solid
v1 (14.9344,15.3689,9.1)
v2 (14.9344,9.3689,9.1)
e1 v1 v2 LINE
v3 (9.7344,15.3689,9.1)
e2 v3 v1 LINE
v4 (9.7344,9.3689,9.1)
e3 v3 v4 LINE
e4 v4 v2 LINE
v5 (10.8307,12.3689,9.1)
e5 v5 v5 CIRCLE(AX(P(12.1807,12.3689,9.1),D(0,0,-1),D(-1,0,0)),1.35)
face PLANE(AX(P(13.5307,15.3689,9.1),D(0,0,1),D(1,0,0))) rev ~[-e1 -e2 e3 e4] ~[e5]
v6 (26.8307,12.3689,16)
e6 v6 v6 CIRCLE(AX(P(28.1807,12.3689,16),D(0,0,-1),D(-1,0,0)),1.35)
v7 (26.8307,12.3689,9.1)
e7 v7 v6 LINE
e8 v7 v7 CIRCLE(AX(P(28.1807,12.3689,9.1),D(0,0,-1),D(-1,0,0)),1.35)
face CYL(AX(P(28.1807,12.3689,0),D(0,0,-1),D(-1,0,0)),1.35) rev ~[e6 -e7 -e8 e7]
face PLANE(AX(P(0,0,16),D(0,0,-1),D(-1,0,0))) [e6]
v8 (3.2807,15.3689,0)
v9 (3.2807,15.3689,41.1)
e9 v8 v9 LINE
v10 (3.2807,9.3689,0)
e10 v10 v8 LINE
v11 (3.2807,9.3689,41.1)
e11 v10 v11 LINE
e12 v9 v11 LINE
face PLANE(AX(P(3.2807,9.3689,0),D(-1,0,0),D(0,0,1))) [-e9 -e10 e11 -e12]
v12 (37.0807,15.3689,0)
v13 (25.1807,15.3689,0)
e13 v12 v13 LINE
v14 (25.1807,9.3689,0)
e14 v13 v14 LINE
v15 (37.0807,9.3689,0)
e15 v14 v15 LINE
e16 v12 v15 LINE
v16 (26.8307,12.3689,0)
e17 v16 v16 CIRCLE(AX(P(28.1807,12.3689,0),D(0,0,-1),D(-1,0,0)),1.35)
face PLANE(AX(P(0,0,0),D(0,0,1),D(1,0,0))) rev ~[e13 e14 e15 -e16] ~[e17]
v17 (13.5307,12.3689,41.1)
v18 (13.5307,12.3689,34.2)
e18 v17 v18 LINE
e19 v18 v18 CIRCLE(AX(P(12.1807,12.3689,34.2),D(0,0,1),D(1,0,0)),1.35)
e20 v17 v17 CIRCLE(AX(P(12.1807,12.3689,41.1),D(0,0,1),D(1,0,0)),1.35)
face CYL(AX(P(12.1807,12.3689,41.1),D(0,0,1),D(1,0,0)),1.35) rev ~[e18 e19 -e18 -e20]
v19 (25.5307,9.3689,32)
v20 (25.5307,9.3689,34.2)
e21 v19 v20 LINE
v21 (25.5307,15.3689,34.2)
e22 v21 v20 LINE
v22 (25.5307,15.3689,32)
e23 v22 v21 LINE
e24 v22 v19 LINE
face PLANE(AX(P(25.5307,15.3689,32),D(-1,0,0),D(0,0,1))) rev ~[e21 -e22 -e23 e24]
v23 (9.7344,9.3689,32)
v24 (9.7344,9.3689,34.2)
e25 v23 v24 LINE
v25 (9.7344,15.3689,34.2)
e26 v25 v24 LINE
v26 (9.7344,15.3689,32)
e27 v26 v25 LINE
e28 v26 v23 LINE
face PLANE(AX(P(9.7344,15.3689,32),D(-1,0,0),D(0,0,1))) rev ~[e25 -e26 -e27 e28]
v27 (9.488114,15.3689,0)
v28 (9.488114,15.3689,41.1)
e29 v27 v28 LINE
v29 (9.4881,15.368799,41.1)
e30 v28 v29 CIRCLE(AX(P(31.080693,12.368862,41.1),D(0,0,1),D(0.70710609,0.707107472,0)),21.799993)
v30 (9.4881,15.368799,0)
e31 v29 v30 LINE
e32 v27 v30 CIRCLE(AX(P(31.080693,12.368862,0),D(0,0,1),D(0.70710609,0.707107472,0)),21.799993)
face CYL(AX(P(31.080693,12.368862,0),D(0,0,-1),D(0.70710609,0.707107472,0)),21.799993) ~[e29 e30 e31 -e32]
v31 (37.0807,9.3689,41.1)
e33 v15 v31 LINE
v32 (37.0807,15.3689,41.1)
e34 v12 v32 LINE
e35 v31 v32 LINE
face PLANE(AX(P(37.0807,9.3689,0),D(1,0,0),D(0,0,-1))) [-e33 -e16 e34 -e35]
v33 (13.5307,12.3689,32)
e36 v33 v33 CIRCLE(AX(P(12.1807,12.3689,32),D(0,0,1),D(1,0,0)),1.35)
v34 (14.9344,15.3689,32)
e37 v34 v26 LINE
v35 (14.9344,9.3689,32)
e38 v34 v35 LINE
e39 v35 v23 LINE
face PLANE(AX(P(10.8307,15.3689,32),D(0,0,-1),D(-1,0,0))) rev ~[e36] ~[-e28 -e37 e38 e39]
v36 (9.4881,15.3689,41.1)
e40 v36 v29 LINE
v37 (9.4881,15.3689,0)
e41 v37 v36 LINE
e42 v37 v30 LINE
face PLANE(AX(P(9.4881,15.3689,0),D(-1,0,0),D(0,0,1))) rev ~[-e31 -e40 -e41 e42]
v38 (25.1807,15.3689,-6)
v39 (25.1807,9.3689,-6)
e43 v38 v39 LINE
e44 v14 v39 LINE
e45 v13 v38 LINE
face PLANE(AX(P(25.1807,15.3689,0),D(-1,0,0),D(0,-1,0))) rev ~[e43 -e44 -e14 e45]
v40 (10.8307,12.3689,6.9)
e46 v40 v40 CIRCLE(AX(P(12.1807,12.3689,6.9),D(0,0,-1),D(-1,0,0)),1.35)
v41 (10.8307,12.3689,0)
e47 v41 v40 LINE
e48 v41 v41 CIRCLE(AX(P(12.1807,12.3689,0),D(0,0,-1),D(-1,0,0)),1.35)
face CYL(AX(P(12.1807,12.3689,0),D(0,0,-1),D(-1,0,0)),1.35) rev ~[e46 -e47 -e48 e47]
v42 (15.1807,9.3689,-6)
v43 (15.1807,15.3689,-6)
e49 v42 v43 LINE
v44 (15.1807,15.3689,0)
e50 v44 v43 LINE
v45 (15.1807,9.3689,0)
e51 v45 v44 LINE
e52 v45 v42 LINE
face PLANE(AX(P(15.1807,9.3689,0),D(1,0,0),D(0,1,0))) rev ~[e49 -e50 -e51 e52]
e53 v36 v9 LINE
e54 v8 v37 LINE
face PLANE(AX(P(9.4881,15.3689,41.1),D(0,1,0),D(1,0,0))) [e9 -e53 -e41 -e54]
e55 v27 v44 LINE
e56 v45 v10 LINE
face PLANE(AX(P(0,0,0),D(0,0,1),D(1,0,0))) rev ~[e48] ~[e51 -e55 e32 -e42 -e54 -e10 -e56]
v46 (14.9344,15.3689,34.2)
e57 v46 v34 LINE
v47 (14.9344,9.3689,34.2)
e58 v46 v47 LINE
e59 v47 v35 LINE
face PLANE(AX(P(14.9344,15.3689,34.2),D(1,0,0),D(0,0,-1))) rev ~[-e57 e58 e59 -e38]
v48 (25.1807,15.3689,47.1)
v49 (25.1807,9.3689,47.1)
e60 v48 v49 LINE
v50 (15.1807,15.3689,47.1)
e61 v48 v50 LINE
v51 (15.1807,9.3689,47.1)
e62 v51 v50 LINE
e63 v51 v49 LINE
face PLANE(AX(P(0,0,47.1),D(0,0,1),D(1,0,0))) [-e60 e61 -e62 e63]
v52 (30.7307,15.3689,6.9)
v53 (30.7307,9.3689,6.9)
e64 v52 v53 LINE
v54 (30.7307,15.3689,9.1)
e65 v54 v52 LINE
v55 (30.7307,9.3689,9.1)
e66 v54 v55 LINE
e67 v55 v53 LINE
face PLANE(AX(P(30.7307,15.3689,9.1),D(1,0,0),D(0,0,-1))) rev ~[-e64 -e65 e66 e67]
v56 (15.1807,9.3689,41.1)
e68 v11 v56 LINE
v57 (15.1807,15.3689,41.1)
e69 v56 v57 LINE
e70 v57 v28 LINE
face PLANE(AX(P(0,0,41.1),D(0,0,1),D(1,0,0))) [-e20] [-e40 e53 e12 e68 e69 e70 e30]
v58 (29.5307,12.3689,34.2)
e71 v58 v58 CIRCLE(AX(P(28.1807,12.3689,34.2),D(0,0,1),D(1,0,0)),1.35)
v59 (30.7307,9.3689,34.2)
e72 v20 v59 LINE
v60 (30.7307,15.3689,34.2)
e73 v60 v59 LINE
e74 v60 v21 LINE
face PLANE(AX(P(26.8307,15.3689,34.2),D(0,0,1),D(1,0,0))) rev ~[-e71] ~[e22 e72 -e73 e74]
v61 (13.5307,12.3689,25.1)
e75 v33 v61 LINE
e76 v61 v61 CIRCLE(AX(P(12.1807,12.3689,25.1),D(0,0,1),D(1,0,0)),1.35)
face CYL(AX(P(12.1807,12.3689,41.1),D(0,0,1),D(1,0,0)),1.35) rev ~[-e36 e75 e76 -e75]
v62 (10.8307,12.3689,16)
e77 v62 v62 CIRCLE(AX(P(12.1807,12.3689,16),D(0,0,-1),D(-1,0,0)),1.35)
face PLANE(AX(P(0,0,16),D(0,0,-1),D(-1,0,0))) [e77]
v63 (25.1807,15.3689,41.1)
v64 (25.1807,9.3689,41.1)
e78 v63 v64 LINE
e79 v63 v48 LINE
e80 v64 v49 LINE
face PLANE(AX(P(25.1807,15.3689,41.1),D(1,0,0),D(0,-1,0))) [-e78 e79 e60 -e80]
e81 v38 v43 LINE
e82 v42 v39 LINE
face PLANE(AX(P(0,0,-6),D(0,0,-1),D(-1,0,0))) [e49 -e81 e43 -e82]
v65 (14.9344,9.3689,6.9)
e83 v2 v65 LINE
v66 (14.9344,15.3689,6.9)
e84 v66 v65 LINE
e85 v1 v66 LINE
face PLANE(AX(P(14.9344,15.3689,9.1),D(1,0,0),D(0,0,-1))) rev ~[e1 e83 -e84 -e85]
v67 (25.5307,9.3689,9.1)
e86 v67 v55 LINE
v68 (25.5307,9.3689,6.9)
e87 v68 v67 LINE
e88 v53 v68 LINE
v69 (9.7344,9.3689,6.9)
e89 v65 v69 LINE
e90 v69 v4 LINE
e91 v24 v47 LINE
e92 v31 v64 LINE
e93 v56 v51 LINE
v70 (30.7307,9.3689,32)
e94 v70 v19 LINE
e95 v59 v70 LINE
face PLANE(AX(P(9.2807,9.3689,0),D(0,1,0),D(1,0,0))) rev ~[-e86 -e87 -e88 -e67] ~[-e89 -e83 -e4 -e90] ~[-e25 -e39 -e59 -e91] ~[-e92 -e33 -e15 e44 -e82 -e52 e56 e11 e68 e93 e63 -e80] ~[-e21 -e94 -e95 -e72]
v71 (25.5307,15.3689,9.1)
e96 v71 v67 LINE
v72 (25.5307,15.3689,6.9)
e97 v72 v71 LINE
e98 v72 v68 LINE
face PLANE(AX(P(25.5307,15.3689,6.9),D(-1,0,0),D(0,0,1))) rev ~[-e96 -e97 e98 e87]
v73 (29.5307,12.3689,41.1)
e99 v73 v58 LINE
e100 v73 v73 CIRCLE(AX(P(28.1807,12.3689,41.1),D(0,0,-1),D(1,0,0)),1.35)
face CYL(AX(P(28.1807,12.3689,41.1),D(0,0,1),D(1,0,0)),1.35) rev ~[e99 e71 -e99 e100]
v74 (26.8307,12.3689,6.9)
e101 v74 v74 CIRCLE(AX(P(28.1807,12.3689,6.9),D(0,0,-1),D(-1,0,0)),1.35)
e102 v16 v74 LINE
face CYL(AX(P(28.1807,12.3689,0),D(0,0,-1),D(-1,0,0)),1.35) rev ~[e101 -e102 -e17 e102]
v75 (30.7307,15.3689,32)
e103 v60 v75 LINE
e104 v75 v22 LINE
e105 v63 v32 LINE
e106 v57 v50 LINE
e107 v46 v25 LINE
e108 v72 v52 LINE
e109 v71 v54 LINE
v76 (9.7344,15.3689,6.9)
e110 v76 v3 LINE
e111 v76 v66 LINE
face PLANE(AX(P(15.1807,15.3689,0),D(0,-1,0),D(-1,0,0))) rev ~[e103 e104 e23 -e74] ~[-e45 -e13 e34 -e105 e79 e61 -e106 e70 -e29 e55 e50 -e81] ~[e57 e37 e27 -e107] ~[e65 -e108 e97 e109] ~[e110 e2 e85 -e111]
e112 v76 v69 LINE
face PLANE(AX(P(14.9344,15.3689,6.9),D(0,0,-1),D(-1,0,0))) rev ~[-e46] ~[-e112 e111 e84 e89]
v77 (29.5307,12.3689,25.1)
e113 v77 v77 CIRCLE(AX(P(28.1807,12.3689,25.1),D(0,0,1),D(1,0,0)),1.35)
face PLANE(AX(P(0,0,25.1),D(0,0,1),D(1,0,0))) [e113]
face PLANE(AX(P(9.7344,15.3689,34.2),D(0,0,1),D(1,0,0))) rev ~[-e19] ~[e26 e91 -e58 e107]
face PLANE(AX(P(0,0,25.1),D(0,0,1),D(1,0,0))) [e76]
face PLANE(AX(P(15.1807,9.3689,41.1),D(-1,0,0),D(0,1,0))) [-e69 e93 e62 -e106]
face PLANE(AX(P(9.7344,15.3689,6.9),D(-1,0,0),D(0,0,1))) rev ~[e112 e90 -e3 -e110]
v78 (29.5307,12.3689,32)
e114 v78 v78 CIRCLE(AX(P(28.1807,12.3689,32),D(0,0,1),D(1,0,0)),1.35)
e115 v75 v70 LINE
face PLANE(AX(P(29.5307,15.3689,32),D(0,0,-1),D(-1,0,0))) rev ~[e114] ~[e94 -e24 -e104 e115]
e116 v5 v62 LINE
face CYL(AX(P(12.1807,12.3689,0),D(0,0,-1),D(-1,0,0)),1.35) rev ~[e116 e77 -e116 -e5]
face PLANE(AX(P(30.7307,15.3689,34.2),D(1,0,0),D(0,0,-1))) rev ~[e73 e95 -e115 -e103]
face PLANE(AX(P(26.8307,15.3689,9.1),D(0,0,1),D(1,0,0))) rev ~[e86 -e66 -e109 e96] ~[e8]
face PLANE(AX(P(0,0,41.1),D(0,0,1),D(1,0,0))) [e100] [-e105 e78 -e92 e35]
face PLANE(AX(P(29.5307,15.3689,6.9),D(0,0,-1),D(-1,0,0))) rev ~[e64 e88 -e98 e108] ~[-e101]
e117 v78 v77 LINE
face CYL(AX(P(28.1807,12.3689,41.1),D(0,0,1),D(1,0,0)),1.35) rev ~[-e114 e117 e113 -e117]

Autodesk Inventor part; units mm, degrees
ref_plane "YZ Plane" through (0, 0, 0) normal (1, 0, 0) x (0, 1, 0)
ref_plane "XZ Plane" through (0, 0, 0) normal (0, 1, 0) x (-1, 0, 0)
ref_plane "XY Plane" through (0, 0, 0) normal (0, 0, 1) x (1, 0, 0)
sketch "스케치8" plane through (0, 0, 0) normal (0, 0, 1) x (1, 0, 0)
  circle A0 centre (12.1807, -22.6311) radius 1.2
  arc A1 (9.2807, -22.6311) -> (14.3807, -22.6311) centre (11.8307, -22.1236) ccw
  circle A2 centre (14.5238, -16.9742) radius 1.2
  circle A3 centre (20.1807, -14.6311) radius 1.2
  circle A4 centre (25.8375, -16.9742) radius 1.2
  circle A5 centre (28.1807, -22.6311) radius 1.2
  arc A6 (25.9807, -22.6311) -> (31.0807, -22.6311) centre (28.5307, -22.1236) ccw
  line L0 (9.2807, -22.6311) -> (31.0807, -22.6311)
  line L1 (9.2807, -2.6311) -> (9.2807, -22.6311)
  line L2 (31.0807, -22.6311) -> (31.0807, -2.6311)
  circle A7 centre (20.1807, -22.6311) radius 5.8
  line L3 (9.2807, -2.6311) -> (39.0379, -2.6311) construction
  line L4 (31.0807, -2.6311) -> (31.0807, 12.3689)
  line L5 (31.0807, 12.3689) -> (9.2807, 12.3689)
  line L6 (9.2807, 12.3689) -> (9.2807, -2.6311)
  line L7 (9.2807, 12.3689) -> (9.2807, 12.3689)
  line L8 (31.0807, 12.3689) -> (31.0807, 12.3689)
  line L9 (31.0807, 12.3689) -> (46.4956, 27.7838)
  arc A8 (46.4956, 27.7838) -> (9.2807, 12.3689) centre (31.0807, 12.3689) ccw
  arc A9 (15.2617, -2.6311) -> (15.6657, -3.046) centre (31.0807, 12.3689) ccw
  line L10 (15.1807, 15.3689) -> (25.1807, 15.3689)
  line L11 (25.1807, 15.3689) -> (25.1807, 9.3689)
  line L12 (25.1807, 9.3689) -> (15.1807, 9.3689)
  line L13 (15.1807, 9.3689) -> (15.1807, 15.3689)
  line L14 (15.1807, 15.3689) -> (25.1807, 9.3689) construction
  line L15 (25.1807, 15.3689) -> (15.1807, 9.3689) construction
  circle A10 centre (12.1807, 12.3689) radius 1.35
  circle A11 centre (28.1807, 12.3689) radius 1.35
  line L16 (9.2807, -2.6311) -> (31.0807, -2.6311)
  circle A12 centre (9.2807, 12.3689) radius 21.8
  line L17 (9.2807, 4.8689) -> (31.0807, 4.8689)
  line L18 (31.0807, 4.8689) -> (31.0807, 19.8689)
  line L19 (31.0807, 19.8689) -> (9.2807, 19.8689)
  line L20 (9.2807, 19.8689) -> (9.2807, 4.8689)
  line L21 (9.2807, 4.8689) -> (31.0807, 19.8689) construction
  line L22 (31.0807, 4.8689) -> (9.2807, 19.8689) construction
  line L23 (31.0807, 15.3689) -> (9.2807, 15.3689)
  line L24 (9.2807, 15.3689) -> (9.2807, 9.3689)
  line L25 (9.2807, 9.3689) -> (31.0807, 9.3689)
  line L26 (31.0807, 9.3689) -> (31.0807, 15.3689)
  line L27 (31.0807, 15.3689) -> (9.2807, 9.3689) construction
  line L28 (9.2807, 15.3689) -> (31.0807, 9.3689) construction
  point P0 (0, 0)
  point P1 (-60.3663, -40.6069)
  point P2 (20.1807, -22.6311)
  point P3 (20.1807, -22.6311)
  point P4 (14.3807, -22.6311)
  point P5 (14.3807, -22.6311)
  point P6 (9.2807, 17.3689)
  point P7 (25.0996, -2.6311)
  point P8 (9.2807, -9.4311)
  point P9 (20.1807, 12.3689)
  point P10 (29.7499, 19.8689)
  point P11 (10.6114, 19.8689)
  point P12 (30.8733, 15.3689)
  point P13 (9.4881, 15.3689)
  dimension "d31" = 2.6
  dimension "d32" = 2.6
  dimension "d33" = 20
  dimension "d34" = 15
  dimension "d35" = 0
  dimension "d36" = 0
  dimension "d38" = 135
  dimension "d39" = 10
  dimension "d40" = 6
  dimension "d44" = 2.7
  dimension "d45" = 2.7
  dimension "d48" = 15
extrude "돌출8" add sketch "스케치8" along normal blind 41.1 contours L6 L5 A10 L13 L25 | A12 L25 L11 L5 A11 | L5 A11 L11 L23 A12 | L4 L25 A12 | L23 L13 L5 A10 A8 | L13 L5 L11 L12 | A11 L5 | L5 A11 | L10 L11 L5 L13 | A10 L5 | L5 A10
sketch "스케치9" plane through (0, 0, 41.1) normal (0, 0, 1) x (1, 0, 0)
  line L0 (30.8733, 15.3689) -> (9.4881, 15.3689) projected
  line L1 (30.8733, 15.3689) -> (9.4881, 15.3689) projected
  arc A0 (9.4881, 15.3689) -> (9.2807, 12.3689) centre (31.0807, 12.3689) ccw projected
  arc A1 (9.4881, 15.3689) -> (9.2807, 12.3689) centre (31.0807, 12.3689) ccw projected
  line L2 (9.2807, 12.3689) -> (9.2807, 9.3689) projected
  line L3 (9.2807, 12.3689) -> (9.2807, 9.3689) projected
  line L4 (9.2807, 9.3689) -> (31.0807, 9.3689) projected
  line L5 (9.2807, 9.3689) -> (31.0807, 9.3689) projected
  line L6 (31.0807, 9.3689) -> (31.0807, 12.3689) projected
  line L7 (31.0807, 9.3689) -> (31.0807, 12.3689) projected
  arc A2 (31.0807, 12.3689) -> (30.8733, 15.3689) centre (9.2807, 12.3689) ccw projected
  arc A3 (31.0807, 12.3689) -> (30.8733, 15.3689) centre (9.2807, 12.3689) ccw projected
  line L8 (30.8733, 15.3689) -> (9.4881, 15.3689) projected
  arc A4 (31.0807, 12.3689) -> (30.8733, 15.3689) centre (9.2807, 12.3689) ccw projected
  line L9 (31.0807, 9.3689) -> (31.0807, 12.3689) projected
  line L10 (9.2807, 9.3689) -> (31.0807, 9.3689) projected
  line L11 (9.2807, 12.3689) -> (9.2807, 9.3689) projected
  arc A5 (9.4881, 15.3689) -> (9.2807, 12.3689) centre (31.0807, 12.3689) ccw projected
  line L12 (30.8733, 15.3689) -> (9.4881, 15.3689) projected
  arc A6 (9.4881, 15.3689) -> (9.2807, 12.3689) centre (31.0807, 12.3689) ccw projected
  line L13 (9.2807, 12.3689) -> (9.2807, 9.3689) projected
  line L14 (9.2807, 9.3689) -> (31.0807, 9.3689) projected
  line L15 (31.0807, 9.3689) -> (31.0807, 12.3689) projected
  arc A7 (31.0807, 12.3689) -> (30.8733, 15.3689) centre (9.2807, 12.3689) ccw projected
  line L16 (30.8733, 15.3689) -> (9.4881, 15.3689) projected
  line L17 (30.8733, 15.3689) -> (9.4881, 15.3689) projected
  arc A8 (9.4881, 15.3689) -> (9.2807, 12.3689) centre (31.0807, 12.3689) ccw projected
  arc A9 (9.4881, 15.3689) -> (9.2807, 12.3689) centre (31.0807, 12.3689) ccw projected
  line L18 (9.2807, 12.3689) -> (9.2807, 9.3689) projected
  line L19 (9.2807, 12.3689) -> (9.2807, 9.3689) projected
  line L20 (9.2807, 9.3689) -> (31.0807, 9.3689) projected
  line L21 (9.2807, 9.3689) -> (31.0807, 9.3689) projected
  line L22 (31.0807, 9.3689) -> (31.0807, 12.3689) projected
  line L23 (31.0807, 9.3689) -> (31.0807, 12.3689) projected
  arc A10 (31.0807, 12.3689) -> (30.8733, 15.3689) centre (9.2807, 12.3689) ccw projected
  arc A11 (31.0807, 12.3689) -> (30.8733, 15.3689) centre (9.2807, 12.3689) ccw projected
  circle A12 centre (36.2473, 1.0351) radius 1.2
  arc A13 (33.3473, 1.0351) -> (38.4473, 1.0351) centre (35.8973, 1.5425) ccw
  circle A14 centre (38.5905, 6.6919) radius 1.2
  circle A15 centre (44.2473, 9.0351) radius 1.2
  circle A16 centre (49.9042, 6.6919) radius 1.2
  circle A17 centre (52.2473, 1.0351) radius 1.2
  arc A18 (50.0473, 1.0351) -> (55.1473, 1.0351) centre (52.5973, 1.5425) ccw
  line L24 (33.3473, 1.0351) -> (55.1473, 1.0351)
  line L25 (33.3473, 21.0351) -> (33.3473, 1.0351)
  line L26 (55.1473, 1.0351) -> (55.1473, 21.0351)
  circle A19 centre (44.2473, 1.0351) radius 5.8
  line L27 (33.3473, 21.0351) -> (63.1045, 21.0351) construction
  line L28 (55.1473, 21.0351) -> (55.1473, 36.0351)
  line L29 (55.1473, 36.0351) -> (33.3473, 36.0351)
  line L30 (33.3473, 36.0351) -> (33.3473, 21.0351)
  line L31 (33.3473, 36.0351) -> (33.3473, 36.0351)
  line L32 (55.1473, 36.0351) -> (55.1473, 36.0351)
  line L33 (55.1473, 36.0351) -> (70.5623, 51.45)
  arc A20 (70.5623, 51.45) -> (33.3473, 36.0351) centre (55.1473, 36.0351) ccw
  arc A21 (39.3284, 21.0351) -> (39.7324, 20.6202) centre (55.1473, 36.0351) ccw
  line L34 (39.2473, 39.0351) -> (49.2473, 39.0351)
  line L35 (49.2473, 39.0351) -> (49.2473, 33.0351)
  line L36 (49.2473, 33.0351) -> (39.2473, 33.0351)
  line L37 (39.2473, 33.0351) -> (39.2473, 39.0351)
  line L38 (39.2473, 39.0351) -> (49.2473, 33.0351) construction
  line L39 (49.2473, 39.0351) -> (39.2473, 33.0351) construction
  circle A22 centre (36.2473, 36.0351) radius 1.35
  circle A23 centre (52.2473, 36.0351) radius 1.35
  line L40 (33.3473, 21.0351) -> (55.1473, 21.0351)
  circle A24 centre (33.3473, 36.0351) radius 21.8
  line L41 (33.3473, 28.5351) -> (55.1473, 28.5351)
  line L42 (55.1473, 28.5351) -> (55.1473, 43.5351)
  line L43 (55.1473, 43.5351) -> (33.3473, 43.5351)
  line L44 (33.3473, 43.5351) -> (33.3473, 28.5351)
  line L45 (33.3473, 28.5351) -> (55.1473, 43.5351) construction
  line L46 (55.1473, 28.5351) -> (33.3473, 43.5351) construction
  line L47 (55.1473, 39.0351) -> (33.3473, 39.0351)
  line L48 (33.3473, 39.0351) -> (33.3473, 33.0351)
  line L49 (33.3473, 33.0351) -> (55.1473, 33.0351)
  line L50 (55.1473, 33.0351) -> (55.1473, 39.0351)
  line L51 (55.1473, 39.0351) -> (33.3473, 33.0351) construction
  line L52 (33.3473, 39.0351) -> (55.1473, 33.0351) construction
  line L53 (15.1807, 15.3689) -> (25.1807, 15.3689)
  line L54 (25.1807, 15.3689) -> (25.1807, 9.3689)
  line L55 (25.1807, 9.3689) -> (15.1807, 9.3689)
  line L56 (15.1807, 9.3689) -> (15.1807, 15.3689)
  line L57 (15.1807, 15.3689) -> (25.1807, 9.3689) construction
  line L58 (25.1807, 15.3689) -> (15.1807, 9.3689) construction
  line L59 (15.1807, 12.3689) -> (12.1807, 12.3689)
  circle A25 centre (12.1807, 12.3689) radius 1.35
  line L60 (25.1807, 12.3689) -> (28.1807, 12.3689)
  circle A26 centre (28.1807, 12.3689) radius 1.35
  point P0 (0, 0)
  point P1 (24.0667, 23.6662)
  point P2 (-36.2996, -16.9407)
  point P3 (44.2473, 1.0351)
  point P4 (44.2473, 1.0351)
  point P5 (38.4473, 1.0351)
  point P6 (38.4473, 1.0351)
  point P7 (33.3473, 41.0351)
  point P8 (49.1663, 21.0351)
  point P9 (33.3473, 14.2351)
  point P10 (44.2473, 36.0351)
  point P11 (53.8166, 43.5351)
  point P12 (34.6781, 43.5351)
  point P13 (54.9399, 39.0351)
  point P14 (33.5547, 39.0351)
  point P15 (20.1807, 12.3689)
  dimension "d49" = 2.6
  dimension "d50" = 2.6
  dimension "d51" = 20
  dimension "d52" = 15
  dimension "d53" = 0
  dimension "d54" = 0
  dimension "d55" = 135
  dimension "d56" = 10
  dimension "d57" = 6
  dimension "d58" = 2.7
  dimension "d59" = 2.7
  dimension "d60" = 15
  dimension "d61" = 10
  dimension "d62" = 5.9
  dimension "d64" = 3
  dimension "d65" = 2.7
  dimension "d66" = 3
  dimension "d67" = 2.7
extrude "돌출9" cut sketch "스케치9" against normal blind 16 contours A26 | A25
sketch "스케치10" plane through (0, 0, 41.1) normal (0, 0, 1) x (1, 0, 0)
  circle A0 centre (12.1807, 12.3689) radius 1.35 projected
  circle A1 centre (28.1807, 12.3689) radius 1.35 projected
  line L0 (30.8733, 15.3689) -> (9.4881, 15.3689) projected
  arc A2 (9.4881, 15.3689) -> (9.2807, 12.3689) centre (31.0807, 12.3689) ccw projected
  line L1 (9.2807, 12.3689) -> (9.2807, 9.3689) projected
  line L2 (9.2807, 9.3689) -> (31.0807, 9.3689) projected
  line L3 (31.0807, 9.3689) -> (31.0807, 12.3689) projected
  arc A3 (31.0807, 12.3689) -> (30.8733, 15.3689) centre (9.2807, 12.3689) ccw projected
  line L4 (15.1807, 15.3689) -> (25.1807, 15.3689)
  line L5 (25.1807, 15.3689) -> (25.1807, 9.3689)
  line L6 (25.1807, 9.3689) -> (15.1807, 9.3689)
  line L7 (15.1807, 9.3689) -> (15.1807, 15.3689)
  line L8 (15.1807, 15.3689) -> (25.1807, 9.3689) construction
  line L9 (25.1807, 15.3689) -> (15.1807, 9.3689) construction
  point P0 (0, 0)
  point P1 (20.1807, 12.3689)
  dimension "d70" = 10
extrude "돌출10" add sketch "스케치10" along normal blind 6 contours L5 L2 L7 L0
sketch "스케치11" plane through (0, 0, 0) normal (0, 0, -1) x (-1, 0, 0)
  line L0 (-30.8733, 15.3689) -> (-9.4881, 15.3689) projected
  arc A0 (-30.8733, 15.3689) -> (-31.0807, 12.3689) centre (-9.2807, 12.3689) ccw projected
  line L1 (-31.0807, 9.3689) -> (-31.0807, 12.3689) projected
  line L2 (-9.2807, 9.3689) -> (-31.0807, 9.3689) projected
  line L3 (-9.2807, 12.3689) -> (-9.2807, 9.3689) projected
  arc A1 (-9.2807, 12.3689) -> (-9.4881, 15.3689) centre (-31.0807, 12.3689) ccw projected
  line L4 (-25.1807, 15.3689) -> (-25.1807, 9.3689) projected
  line L5 (-15.1807, 9.3689) -> (-15.1807, 15.3689) projected
  point P0 (0, 0)
extrude "돌출11" add sketch "스케치11" along normal blind 6 contours L0 L5 L2 L4
sketch "스케치12" plane through (0, 0, 0) normal (0, 0, -1) x (-1, 0, 0)
  circle A0 centre (-28.1807, 12.3689) radius 1.35 projected
  circle A1 centre (-12.1807, 12.3689) radius 1.35 projected
  point P0 (0, 0)
extrude "돌출12" cut sketch "스케치12" against normal blind 16
sketch "스케치13" plane through (9.4881, 15.3689, 41.1) normal (0, 1, 0) x (1, 0, 0)
  line L0 (17.3426, 41.1) -> (20.0426, 41.1) projected
  line L1 (17.3426, 25.1) -> (20.0426, 25.1) projected
  line L2 (21.3852, 0) -> (15.6926, 0) projected
  line L3 (15.6926, 0) -> (21.5926, 0) projected
  line L4 (15.6926, 0) -> (21.5926, 0) projected
  line L5 (21.5926, 0) -> (21.3852, 0) projected
  line L6 (21.3852, 0) -> (15.6926, 0) projected
  line L7 (20.0426, 0) -> (17.3426, 0) projected
  line L8 (15.6926, 0) -> (15.6926, -6) projected
  line L9 (15.6926, 0) -> (15.6926, -6) projected
  line L10 (15.6926, 0) -> (15.6926, -6) projected
  line L11 (15.6926, 0) -> (15.6926, -6) projected
  line L12 (4.0426, 16) -> (1.3426, 16) projected
  line L13 (4.0426, 16) -> (1.3426, 16) projected
  line L14 (4.0426, 16) -> (1.3426, 16) projected
  line L15 (4.0426, 0) -> (1.3426, 0) projected
  line L16 (5.6926, 0) -> (5.6926, -6) projected
  line L17 (5.6926, -6) -> (15.6926, -6) projected
  line L18 (15.6926, -6) -> (5.6926, -6) projected
  line L19 (5.6926, 0) -> (5.6926, -6) projected
  line L20 (5.6926, 0) -> (5.6926, -6) projected
  line L21 (1.3426, 25.1) -> (4.0426, 25.1) projected
  line L22 (21.5926, 41.1) -> (21.5926, 0) projected
  line L23 (21.3852, 41.1) -> (21.3852, 0) projected
  line L24 (21.5926, 41.1) -> (21.3852, 41.1) projected
  line L25 (21.3852, 41.1) -> (21.3852, 0) projected
  line L26 (21.5926, 0) -> (21.3852, 0) projected
  line L27 (21.5926, 41.1) -> (21.5926, 0) projected
  line L28 (21.5926, 41.1) -> (21.5926, 0) projected
  line L29 (21.5926, 41.1) -> (21.5926, 0) projected
  line L30 (21.5926, 41.1) -> (21.5926, 0) projected
  line L31 (21.3852, 41.1) -> (15.6926, 41.1) projected
  line L32 (15.6926, 41.1) -> (15.6926, 47.1) projected
  line L33 (5.6926, 47.1) -> (15.6926, 47.1) projected
  line L34 (5.6926, 41.1) -> (5.6926, 47.1) projected
  line L35 (5.6926, 41.1) -> (0, 41.1) projected
  line L36 (0, 41.1) -> (0, 0) projected
  line L37 (5.6926, 0) -> (0, 0) projected
  line L38 (5.6926, 0) -> (5.6926, -6) projected
  line L39 (15.6926, -6) -> (5.6926, -6) projected
  line L40 (15.6926, 0) -> (15.6926, -6) projected
  line L41 (21.3852, 0) -> (15.6926, 0) projected
  line L42 (21.3852, 41.1) -> (21.3852, 0) projected
  line L43 (-0.2074, 41.1) -> (5.6926, 41.1) projected
  line L44 (5.6926, 41.1) -> (5.6926, 47.1) projected
  line L45 (15.6926, 47.1) -> (5.6926, 47.1) projected
  line L46 (15.6926, 41.1) -> (15.6926, 47.1) projected
  line L47 (15.6926, 41.1) -> (21.5926, 41.1) projected
  line L48 (21.5926, 41.1) -> (21.5926, 0) projected
  line L49 (15.6926, 0) -> (21.5926, 0) projected
  line L50 (15.6926, 0) -> (15.6926, -6) projected
  line L51 (5.6926, -6) -> (15.6926, -6) projected
  line L52 (5.6926, 0) -> (5.6926, -6) projected
  line L53 (-0.2074, 0) -> (5.6926, 0) projected
  line L54 (-0.2074, 41.1) -> (-0.2074, 0) projected
  line L55 (1.3426, 41.1) -> (4.0426, 41.1) projected
  line L56 (0, 41.1) -> (0, 0) projected
  line L57 (0, 41.1) -> (-0.2074, 41.1) projected
  line L58 (-0.2074, 41.1) -> (-0.2074, 0) projected
  line L59 (0, 0) -> (-0.2074, 0) projected
  line L60 (0, 41.1) -> (0, 0) projected
  line L61 (-0.2074, 41.1) -> (-0.2074, 0) projected
  line L62 (-0.2074, 41.1) -> (-0.2074, 0) projected
  line L63 (-0.2074, 41.1) -> (-0.2074, 0) projected
  line L64 (-0.2074, 41.1) -> (-0.2074, 0) projected
  line L65 (20.0426, 0) -> (17.3426, 0) projected
  line L66 (20.0426, 16) -> (17.3426, 16) projected
  line L67 (20.0426, 16) -> (17.3426, 16) projected
  line L68 (20.0426, 16) -> (17.3426, 16) projected
  line L69 (20.0426, 0) -> (17.3426, 0) projected
  line L70 (21.3852, 0) -> (21.5926, 0) projected
  line L71 (15.6926, -6) -> (5.6926, -6) projected
  line L72 (-0.2074, 0) -> (5.6926, 0) projected
  line L73 (4.0426, 0) -> (1.3426, 0) projected
  line L74 (5.6926, 0) -> (0, 0) projected
  line L75 (-0.2074, 0) -> (0, 0) projected
  line L76 (5.6926, 0) -> (0, 0) projected
  line L77 (0, 0) -> (-0.2074, 0) projected
  line L78 (-0.2074, 0) -> (5.6926, 0) projected
  line L79 (4.0426, 0) -> (1.3426, 0) projected
  line L80 (5.6926, 0) -> (5.6926, -6) projected
  line L81 (5.6926, -6) -> (15.6926, -6) projected
  line L82 (-0.2074, 41.1) -> (5.6926, 41.1) projected
  line L83 (21.3852, 41.1) -> (15.6926, 41.1) projected
  line L84 (21.3852, 41.1) -> (21.5926, 41.1) projected
  line L85 (15.6926, 41.1) -> (21.5926, 41.1) projected
  line L86 (15.6926, 47.1) -> (5.6926, 47.1) projected
  line L87 (17.3426, 25.1) -> (20.0426, 25.1) projected
  line L88 (1.3426, 25.1) -> (4.0426, 25.1) projected
  line L89 (17.3426, 25.1) -> (20.0426, 25.1) projected
  line L90 (17.3426, 41.1) -> (20.0426, 41.1) projected
  line L91 (1.3426, 25.1) -> (4.0426, 25.1) projected
  line L92 (1.3426, 41.1) -> (4.0426, 41.1) projected
  line L93 (17.3426, 41.1) -> (20.0426, 41.1) projected
  line L94 (21.3852, 41.1) -> (15.6926, 41.1) projected
  line L95 (21.5926, 41.1) -> (21.3852, 41.1) projected
  line L96 (15.6926, 41.1) -> (21.5926, 41.1) projected
  line L97 (-0.2074, 41.1) -> (0, 41.1) projected
  line L98 (1.3426, 41.1) -> (4.0426, 41.1) projected
  line L99 (-0.2074, 41.1) -> (5.6926, 41.1) projected
  line L100 (0, 41.1) -> (-0.2074, 41.1) projected
  line L101 (5.6926, 41.1) -> (0, 41.1) projected
  line L102 (5.6926, 41.1) -> (0, 41.1) projected
  line L103 (5.6926, 47.1) -> (15.6926, 47.1) projected
  line L104 (5.6926, 41.1) -> (5.6926, 47.1) projected
  line L105 (5.6926, 41.1) -> (5.6926, 47.1) projected
  line L106 (5.6926, 47.1) -> (15.6926, 47.1) projected
  line L107 (15.6926, 47.1) -> (5.6926, 47.1) projected
  line L108 (5.6926, 41.1) -> (5.6926, 47.1) projected
  line L109 (5.6926, 41.1) -> (5.6926, 47.1) projected
  line L110 (15.6926, 41.1) -> (15.6926, 47.1) projected
  line L111 (15.6926, 41.1) -> (15.6926, 47.1) projected
  line L112 (15.6926, 41.1) -> (15.6926, 47.1) projected
  line L113 (15.6926, 41.1) -> (15.6926, 47.1) projected
  line L114 (17.3426, 41.1) -> (17.3426, 25.1) projected
  line L115 (20.0426, 41.1) -> (20.0426, 25.1) projected
  line L116 (4.0426, 41.1) -> (4.0426, 25.1) projected
  line L117 (1.3426, 41.1) -> (1.3426, 25.1) projected
  line L118 (4.0426, 0) -> (4.0426, 16) projected
  line L119 (1.3426, 0) -> (1.3426, 16) projected
  line L120 (17.3426, 0) -> (17.3426, 16) projected
  line L121 (20.0426, 0) -> (20.0426, 16) projected
  line L122 (0.2463, 32) -> (5.4463, 32)
  line L123 (5.4463, 32) -> (5.4463, 34.2)
  line L124 (5.4463, 34.2) -> (0.2463, 34.2)
  line L125 (0.2463, 34.2) -> (0.2463, 32)
  line L126 (0.2463, 32) -> (5.4463, 34.2) construction
  line L127 (5.4463, 32) -> (0.2463, 34.2) construction
  line L128 (16.0426, 32) -> (21.2426, 32)
  line L129 (21.2426, 32) -> (21.2426, 34.2)
  line L130 (21.2426, 34.2) -> (16.0426, 34.2)
  line L131 (16.0426, 34.2) -> (16.0426, 32)
  line L132 (16.0426, 32) -> (21.2426, 34.2) construction
  line L133 (21.2426, 32) -> (16.0426, 34.2) construction
  line L134 (16.0426, 6.9) -> (21.2426, 6.9)
  line L135 (21.2426, 6.9) -> (21.2426, 9.1)
  line L136 (21.2426, 9.1) -> (16.0426, 9.1)
  line L137 (16.0426, 9.1) -> (16.0426, 6.9)
  line L138 (16.0426, 6.9) -> (21.2426, 9.1) construction
  line L139 (21.2426, 6.9) -> (16.0426, 9.1) construction
  line L140 (0.2463, 6.9) -> (5.4463, 6.9)
  line L141 (5.4463, 6.9) -> (5.4463, 9.1)
  line L142 (5.4463, 9.1) -> (0.2463, 9.1)
  line L143 (0.2463, 9.1) -> (0.2463, 6.9)
  line L144 (0.2463, 6.9) -> (5.4463, 9.1) construction
  line L145 (5.4463, 6.9) -> (0.2463, 9.1) construction
  point P0 (-9.4881, 41.1)
  point P1 (2.8463, 33.1)
  point P2 (18.6426, 33.1)
  point P3 (18.6426, 8)
  point P4 (2.8463, 8)
  dimension "d77" = 5.2
  dimension "d78" = 2.2
  dimension "d79" = 5.2
  dimension "d80" = 2.2
  dimension "d81" = 5.2
  dimension "d82" = 2.2
  dimension "d83" = 5.2
  dimension "d84" = 2.2
extrude "돌출13" cut sketch "스케치13" against normal blind 10 contours L130 L115 L128 L114 | L114 L128 L131 L130 | L130 L129 L128 L115 | L134 L120 L136 L121 | L121 L136 L135 L134 | L134 L137 L136 L120 | L124 L123 L122 L116 | L116 L122 L117 L124 | L117 L122 L125 L124 | L140 L143 L142 L119 | L119 L142 L118 L140 | L118 L142 L141 L140
sketch "스케치14" plane through (9.2807, 9.3689, 0) normal (-1, 0, 0) x (0, 0, 1)
  line L0 (0, 6) -> (0, 3) projected
  line L1 (0, 3) -> (41.1, 3) projected
  line L2 (41.1, 6) -> (41.1, 3) projected
  line L3 (0, 6) -> (41.1, 6) projected
  line L4 (0, 3) -> (0, 0) projected
  line L5 (0, 0) -> (41.1, 0) projected
  line L6 (41.1, 3) -> (41.1, 0) projected
  line L7 (0, 3) -> (41.1, 3) projected
  line L8 (0, 0) -> (0, 6) projected
  line L9 (41.1, 0) -> (47.1, 0) projected
  line L10 (0, 6) -> (41.1, 6)
  line L11 (41.1, 6) -> (41.1, 0)
  line L12 (41.1, 0) -> (0, 0)
  line L13 (0, 0) -> (0, 6)
  point P0 (0, -9.3689)
extrude "돌출14" add sketch "스케치14" along normal blind 6
sketch "스케치15" plane through (31.0807, 9.3689, 0) normal (1, 0, 0) x (0, 0, -1)
  line L0 (-32, 1.65) -> (-25.1, 1.65) projected
  line L1 (0, 0) -> (0, 3) projected
  line L2 (0, 3) -> (-41.1, 3) projected
  line L3 (-41.1, 0) -> (-41.1, 3) projected
  line L4 (0, 0) -> (-41.1, 0) projected
  line L5 (0, 3) -> (0, 6) projected
  line L6 (0, 6) -> (-41.1, 6) projected
  line L7 (-41.1, 3) -> (-41.1, 6) projected
  line L8 (0, 3) -> (-41.1, 3) projected
  point P0 (0, -9.3689)
extrude "돌출15" add sketch "스케치15" along normal blind 6
sketch "스케치16" plane through (9.4881, 15.3689, 41.1) normal (0, 1, 0) x (1, 0, 0)
  line L0 (-0.2074, 0) -> (-0.2074, 41.1) projected
  line L1 (-0.2074, 41.1) -> (-6.2074, 41.1) projected
  line L2 (-6.2074, 0) -> (-6.2074, 41.1) projected
  line L3 (-0.2074, 0) -> (-6.2074, 0) projected
  line L4 (5.4463, 34.2) -> (5.4463, 32) projected
  line L5 (5.4463, 32) -> (0.2463, 32) projected
  line L6 (0.2463, 32) -> (0.2463, 34.2) projected
  line L7 (0.2463, 34.2) -> (5.4463, 34.2) projected
  line L8 (21.2426, 9.1) -> (21.2426, 6.9) projected
  line L9 (21.2426, 6.9) -> (16.0426, 6.9) projected
  line L10 (16.0426, 6.9) -> (16.0426, 9.1) projected
  line L11 (16.0426, 9.1) -> (21.2426, 9.1) projected
  line L12 (21.2426, 34.2) -> (21.2426, 32) projected
  line L13 (21.2426, 32) -> (16.0426, 32) projected
  line L14 (16.0426, 32) -> (16.0426, 34.2) projected
  line L15 (16.0426, 34.2) -> (21.2426, 34.2) projected
  line L16 (5.4463, 9.1) -> (5.4463, 6.9) projected
  line L17 (5.4463, 6.9) -> (0.2463, 6.9) projected
  line L18 (0.2463, 6.9) -> (0.2463, 9.1) projected
  line L19 (0.2463, 9.1) -> (5.4463, 9.1) projected
  line L20 (21.3852, 41.1) -> (15.6926, 41.1) projected
  line L21 (15.6926, 41.1) -> (15.6926, 47.1) projected
  line L22 (5.6926, 47.1) -> (15.6926, 47.1) projected
  line L23 (5.6926, 41.1) -> (5.6926, 47.1) projected
  line L24 (5.6926, 41.1) -> (0, 41.1) projected
  line L25 (0, 41.1) -> (0, 0) projected
  line L26 (5.6926, 0) -> (0, 0) projected
  line L27 (5.6926, 0) -> (5.6926, -6) projected
  line L28 (15.6926, -6) -> (5.6926, -6) projected
  line L29 (15.6926, 0) -> (15.6926, -6) projected
  line L30 (21.3852, 0) -> (15.6926, 0) projected
  line L31 (21.3852, 41.1) -> (21.3852, 0) projected
  line L32 (21.5926, 41.1) -> (21.5926, 0) projected
  line L33 (21.5926, 0) -> (27.5926, 0) projected
  line L34 (27.5926, 41.1) -> (27.5926, 0) projected
  line L35 (21.5926, 41.1) -> (27.5926, 41.1) projected
  line L36 (0, 41.1) -> (-0.2074, 41.1)
  line L37 (-0.2074, 41.1) -> (-0.2074, 0)
  line L38 (-0.2074, 0) -> (0, 0)
  line L39 (0, 0) -> (0, 41.1)
  line L40 (21.3852, 0) -> (21.5926, 0)
  line L41 (21.5926, 0) -> (21.5926, 41.1)
  line L42 (21.5926, 41.1) -> (21.3852, 41.1)
  line L43 (21.3852, 41.1) -> (21.3852, 0)
  point P0 (-9.4881, 41.1)
extrude "돌출16" add sketch "스케치16" against normal blind 6 contours L0 L36 L25 L38 | L31 L42 L32 L40
properties part number "bridge_hands1" material "PMMA 플라스틱"
